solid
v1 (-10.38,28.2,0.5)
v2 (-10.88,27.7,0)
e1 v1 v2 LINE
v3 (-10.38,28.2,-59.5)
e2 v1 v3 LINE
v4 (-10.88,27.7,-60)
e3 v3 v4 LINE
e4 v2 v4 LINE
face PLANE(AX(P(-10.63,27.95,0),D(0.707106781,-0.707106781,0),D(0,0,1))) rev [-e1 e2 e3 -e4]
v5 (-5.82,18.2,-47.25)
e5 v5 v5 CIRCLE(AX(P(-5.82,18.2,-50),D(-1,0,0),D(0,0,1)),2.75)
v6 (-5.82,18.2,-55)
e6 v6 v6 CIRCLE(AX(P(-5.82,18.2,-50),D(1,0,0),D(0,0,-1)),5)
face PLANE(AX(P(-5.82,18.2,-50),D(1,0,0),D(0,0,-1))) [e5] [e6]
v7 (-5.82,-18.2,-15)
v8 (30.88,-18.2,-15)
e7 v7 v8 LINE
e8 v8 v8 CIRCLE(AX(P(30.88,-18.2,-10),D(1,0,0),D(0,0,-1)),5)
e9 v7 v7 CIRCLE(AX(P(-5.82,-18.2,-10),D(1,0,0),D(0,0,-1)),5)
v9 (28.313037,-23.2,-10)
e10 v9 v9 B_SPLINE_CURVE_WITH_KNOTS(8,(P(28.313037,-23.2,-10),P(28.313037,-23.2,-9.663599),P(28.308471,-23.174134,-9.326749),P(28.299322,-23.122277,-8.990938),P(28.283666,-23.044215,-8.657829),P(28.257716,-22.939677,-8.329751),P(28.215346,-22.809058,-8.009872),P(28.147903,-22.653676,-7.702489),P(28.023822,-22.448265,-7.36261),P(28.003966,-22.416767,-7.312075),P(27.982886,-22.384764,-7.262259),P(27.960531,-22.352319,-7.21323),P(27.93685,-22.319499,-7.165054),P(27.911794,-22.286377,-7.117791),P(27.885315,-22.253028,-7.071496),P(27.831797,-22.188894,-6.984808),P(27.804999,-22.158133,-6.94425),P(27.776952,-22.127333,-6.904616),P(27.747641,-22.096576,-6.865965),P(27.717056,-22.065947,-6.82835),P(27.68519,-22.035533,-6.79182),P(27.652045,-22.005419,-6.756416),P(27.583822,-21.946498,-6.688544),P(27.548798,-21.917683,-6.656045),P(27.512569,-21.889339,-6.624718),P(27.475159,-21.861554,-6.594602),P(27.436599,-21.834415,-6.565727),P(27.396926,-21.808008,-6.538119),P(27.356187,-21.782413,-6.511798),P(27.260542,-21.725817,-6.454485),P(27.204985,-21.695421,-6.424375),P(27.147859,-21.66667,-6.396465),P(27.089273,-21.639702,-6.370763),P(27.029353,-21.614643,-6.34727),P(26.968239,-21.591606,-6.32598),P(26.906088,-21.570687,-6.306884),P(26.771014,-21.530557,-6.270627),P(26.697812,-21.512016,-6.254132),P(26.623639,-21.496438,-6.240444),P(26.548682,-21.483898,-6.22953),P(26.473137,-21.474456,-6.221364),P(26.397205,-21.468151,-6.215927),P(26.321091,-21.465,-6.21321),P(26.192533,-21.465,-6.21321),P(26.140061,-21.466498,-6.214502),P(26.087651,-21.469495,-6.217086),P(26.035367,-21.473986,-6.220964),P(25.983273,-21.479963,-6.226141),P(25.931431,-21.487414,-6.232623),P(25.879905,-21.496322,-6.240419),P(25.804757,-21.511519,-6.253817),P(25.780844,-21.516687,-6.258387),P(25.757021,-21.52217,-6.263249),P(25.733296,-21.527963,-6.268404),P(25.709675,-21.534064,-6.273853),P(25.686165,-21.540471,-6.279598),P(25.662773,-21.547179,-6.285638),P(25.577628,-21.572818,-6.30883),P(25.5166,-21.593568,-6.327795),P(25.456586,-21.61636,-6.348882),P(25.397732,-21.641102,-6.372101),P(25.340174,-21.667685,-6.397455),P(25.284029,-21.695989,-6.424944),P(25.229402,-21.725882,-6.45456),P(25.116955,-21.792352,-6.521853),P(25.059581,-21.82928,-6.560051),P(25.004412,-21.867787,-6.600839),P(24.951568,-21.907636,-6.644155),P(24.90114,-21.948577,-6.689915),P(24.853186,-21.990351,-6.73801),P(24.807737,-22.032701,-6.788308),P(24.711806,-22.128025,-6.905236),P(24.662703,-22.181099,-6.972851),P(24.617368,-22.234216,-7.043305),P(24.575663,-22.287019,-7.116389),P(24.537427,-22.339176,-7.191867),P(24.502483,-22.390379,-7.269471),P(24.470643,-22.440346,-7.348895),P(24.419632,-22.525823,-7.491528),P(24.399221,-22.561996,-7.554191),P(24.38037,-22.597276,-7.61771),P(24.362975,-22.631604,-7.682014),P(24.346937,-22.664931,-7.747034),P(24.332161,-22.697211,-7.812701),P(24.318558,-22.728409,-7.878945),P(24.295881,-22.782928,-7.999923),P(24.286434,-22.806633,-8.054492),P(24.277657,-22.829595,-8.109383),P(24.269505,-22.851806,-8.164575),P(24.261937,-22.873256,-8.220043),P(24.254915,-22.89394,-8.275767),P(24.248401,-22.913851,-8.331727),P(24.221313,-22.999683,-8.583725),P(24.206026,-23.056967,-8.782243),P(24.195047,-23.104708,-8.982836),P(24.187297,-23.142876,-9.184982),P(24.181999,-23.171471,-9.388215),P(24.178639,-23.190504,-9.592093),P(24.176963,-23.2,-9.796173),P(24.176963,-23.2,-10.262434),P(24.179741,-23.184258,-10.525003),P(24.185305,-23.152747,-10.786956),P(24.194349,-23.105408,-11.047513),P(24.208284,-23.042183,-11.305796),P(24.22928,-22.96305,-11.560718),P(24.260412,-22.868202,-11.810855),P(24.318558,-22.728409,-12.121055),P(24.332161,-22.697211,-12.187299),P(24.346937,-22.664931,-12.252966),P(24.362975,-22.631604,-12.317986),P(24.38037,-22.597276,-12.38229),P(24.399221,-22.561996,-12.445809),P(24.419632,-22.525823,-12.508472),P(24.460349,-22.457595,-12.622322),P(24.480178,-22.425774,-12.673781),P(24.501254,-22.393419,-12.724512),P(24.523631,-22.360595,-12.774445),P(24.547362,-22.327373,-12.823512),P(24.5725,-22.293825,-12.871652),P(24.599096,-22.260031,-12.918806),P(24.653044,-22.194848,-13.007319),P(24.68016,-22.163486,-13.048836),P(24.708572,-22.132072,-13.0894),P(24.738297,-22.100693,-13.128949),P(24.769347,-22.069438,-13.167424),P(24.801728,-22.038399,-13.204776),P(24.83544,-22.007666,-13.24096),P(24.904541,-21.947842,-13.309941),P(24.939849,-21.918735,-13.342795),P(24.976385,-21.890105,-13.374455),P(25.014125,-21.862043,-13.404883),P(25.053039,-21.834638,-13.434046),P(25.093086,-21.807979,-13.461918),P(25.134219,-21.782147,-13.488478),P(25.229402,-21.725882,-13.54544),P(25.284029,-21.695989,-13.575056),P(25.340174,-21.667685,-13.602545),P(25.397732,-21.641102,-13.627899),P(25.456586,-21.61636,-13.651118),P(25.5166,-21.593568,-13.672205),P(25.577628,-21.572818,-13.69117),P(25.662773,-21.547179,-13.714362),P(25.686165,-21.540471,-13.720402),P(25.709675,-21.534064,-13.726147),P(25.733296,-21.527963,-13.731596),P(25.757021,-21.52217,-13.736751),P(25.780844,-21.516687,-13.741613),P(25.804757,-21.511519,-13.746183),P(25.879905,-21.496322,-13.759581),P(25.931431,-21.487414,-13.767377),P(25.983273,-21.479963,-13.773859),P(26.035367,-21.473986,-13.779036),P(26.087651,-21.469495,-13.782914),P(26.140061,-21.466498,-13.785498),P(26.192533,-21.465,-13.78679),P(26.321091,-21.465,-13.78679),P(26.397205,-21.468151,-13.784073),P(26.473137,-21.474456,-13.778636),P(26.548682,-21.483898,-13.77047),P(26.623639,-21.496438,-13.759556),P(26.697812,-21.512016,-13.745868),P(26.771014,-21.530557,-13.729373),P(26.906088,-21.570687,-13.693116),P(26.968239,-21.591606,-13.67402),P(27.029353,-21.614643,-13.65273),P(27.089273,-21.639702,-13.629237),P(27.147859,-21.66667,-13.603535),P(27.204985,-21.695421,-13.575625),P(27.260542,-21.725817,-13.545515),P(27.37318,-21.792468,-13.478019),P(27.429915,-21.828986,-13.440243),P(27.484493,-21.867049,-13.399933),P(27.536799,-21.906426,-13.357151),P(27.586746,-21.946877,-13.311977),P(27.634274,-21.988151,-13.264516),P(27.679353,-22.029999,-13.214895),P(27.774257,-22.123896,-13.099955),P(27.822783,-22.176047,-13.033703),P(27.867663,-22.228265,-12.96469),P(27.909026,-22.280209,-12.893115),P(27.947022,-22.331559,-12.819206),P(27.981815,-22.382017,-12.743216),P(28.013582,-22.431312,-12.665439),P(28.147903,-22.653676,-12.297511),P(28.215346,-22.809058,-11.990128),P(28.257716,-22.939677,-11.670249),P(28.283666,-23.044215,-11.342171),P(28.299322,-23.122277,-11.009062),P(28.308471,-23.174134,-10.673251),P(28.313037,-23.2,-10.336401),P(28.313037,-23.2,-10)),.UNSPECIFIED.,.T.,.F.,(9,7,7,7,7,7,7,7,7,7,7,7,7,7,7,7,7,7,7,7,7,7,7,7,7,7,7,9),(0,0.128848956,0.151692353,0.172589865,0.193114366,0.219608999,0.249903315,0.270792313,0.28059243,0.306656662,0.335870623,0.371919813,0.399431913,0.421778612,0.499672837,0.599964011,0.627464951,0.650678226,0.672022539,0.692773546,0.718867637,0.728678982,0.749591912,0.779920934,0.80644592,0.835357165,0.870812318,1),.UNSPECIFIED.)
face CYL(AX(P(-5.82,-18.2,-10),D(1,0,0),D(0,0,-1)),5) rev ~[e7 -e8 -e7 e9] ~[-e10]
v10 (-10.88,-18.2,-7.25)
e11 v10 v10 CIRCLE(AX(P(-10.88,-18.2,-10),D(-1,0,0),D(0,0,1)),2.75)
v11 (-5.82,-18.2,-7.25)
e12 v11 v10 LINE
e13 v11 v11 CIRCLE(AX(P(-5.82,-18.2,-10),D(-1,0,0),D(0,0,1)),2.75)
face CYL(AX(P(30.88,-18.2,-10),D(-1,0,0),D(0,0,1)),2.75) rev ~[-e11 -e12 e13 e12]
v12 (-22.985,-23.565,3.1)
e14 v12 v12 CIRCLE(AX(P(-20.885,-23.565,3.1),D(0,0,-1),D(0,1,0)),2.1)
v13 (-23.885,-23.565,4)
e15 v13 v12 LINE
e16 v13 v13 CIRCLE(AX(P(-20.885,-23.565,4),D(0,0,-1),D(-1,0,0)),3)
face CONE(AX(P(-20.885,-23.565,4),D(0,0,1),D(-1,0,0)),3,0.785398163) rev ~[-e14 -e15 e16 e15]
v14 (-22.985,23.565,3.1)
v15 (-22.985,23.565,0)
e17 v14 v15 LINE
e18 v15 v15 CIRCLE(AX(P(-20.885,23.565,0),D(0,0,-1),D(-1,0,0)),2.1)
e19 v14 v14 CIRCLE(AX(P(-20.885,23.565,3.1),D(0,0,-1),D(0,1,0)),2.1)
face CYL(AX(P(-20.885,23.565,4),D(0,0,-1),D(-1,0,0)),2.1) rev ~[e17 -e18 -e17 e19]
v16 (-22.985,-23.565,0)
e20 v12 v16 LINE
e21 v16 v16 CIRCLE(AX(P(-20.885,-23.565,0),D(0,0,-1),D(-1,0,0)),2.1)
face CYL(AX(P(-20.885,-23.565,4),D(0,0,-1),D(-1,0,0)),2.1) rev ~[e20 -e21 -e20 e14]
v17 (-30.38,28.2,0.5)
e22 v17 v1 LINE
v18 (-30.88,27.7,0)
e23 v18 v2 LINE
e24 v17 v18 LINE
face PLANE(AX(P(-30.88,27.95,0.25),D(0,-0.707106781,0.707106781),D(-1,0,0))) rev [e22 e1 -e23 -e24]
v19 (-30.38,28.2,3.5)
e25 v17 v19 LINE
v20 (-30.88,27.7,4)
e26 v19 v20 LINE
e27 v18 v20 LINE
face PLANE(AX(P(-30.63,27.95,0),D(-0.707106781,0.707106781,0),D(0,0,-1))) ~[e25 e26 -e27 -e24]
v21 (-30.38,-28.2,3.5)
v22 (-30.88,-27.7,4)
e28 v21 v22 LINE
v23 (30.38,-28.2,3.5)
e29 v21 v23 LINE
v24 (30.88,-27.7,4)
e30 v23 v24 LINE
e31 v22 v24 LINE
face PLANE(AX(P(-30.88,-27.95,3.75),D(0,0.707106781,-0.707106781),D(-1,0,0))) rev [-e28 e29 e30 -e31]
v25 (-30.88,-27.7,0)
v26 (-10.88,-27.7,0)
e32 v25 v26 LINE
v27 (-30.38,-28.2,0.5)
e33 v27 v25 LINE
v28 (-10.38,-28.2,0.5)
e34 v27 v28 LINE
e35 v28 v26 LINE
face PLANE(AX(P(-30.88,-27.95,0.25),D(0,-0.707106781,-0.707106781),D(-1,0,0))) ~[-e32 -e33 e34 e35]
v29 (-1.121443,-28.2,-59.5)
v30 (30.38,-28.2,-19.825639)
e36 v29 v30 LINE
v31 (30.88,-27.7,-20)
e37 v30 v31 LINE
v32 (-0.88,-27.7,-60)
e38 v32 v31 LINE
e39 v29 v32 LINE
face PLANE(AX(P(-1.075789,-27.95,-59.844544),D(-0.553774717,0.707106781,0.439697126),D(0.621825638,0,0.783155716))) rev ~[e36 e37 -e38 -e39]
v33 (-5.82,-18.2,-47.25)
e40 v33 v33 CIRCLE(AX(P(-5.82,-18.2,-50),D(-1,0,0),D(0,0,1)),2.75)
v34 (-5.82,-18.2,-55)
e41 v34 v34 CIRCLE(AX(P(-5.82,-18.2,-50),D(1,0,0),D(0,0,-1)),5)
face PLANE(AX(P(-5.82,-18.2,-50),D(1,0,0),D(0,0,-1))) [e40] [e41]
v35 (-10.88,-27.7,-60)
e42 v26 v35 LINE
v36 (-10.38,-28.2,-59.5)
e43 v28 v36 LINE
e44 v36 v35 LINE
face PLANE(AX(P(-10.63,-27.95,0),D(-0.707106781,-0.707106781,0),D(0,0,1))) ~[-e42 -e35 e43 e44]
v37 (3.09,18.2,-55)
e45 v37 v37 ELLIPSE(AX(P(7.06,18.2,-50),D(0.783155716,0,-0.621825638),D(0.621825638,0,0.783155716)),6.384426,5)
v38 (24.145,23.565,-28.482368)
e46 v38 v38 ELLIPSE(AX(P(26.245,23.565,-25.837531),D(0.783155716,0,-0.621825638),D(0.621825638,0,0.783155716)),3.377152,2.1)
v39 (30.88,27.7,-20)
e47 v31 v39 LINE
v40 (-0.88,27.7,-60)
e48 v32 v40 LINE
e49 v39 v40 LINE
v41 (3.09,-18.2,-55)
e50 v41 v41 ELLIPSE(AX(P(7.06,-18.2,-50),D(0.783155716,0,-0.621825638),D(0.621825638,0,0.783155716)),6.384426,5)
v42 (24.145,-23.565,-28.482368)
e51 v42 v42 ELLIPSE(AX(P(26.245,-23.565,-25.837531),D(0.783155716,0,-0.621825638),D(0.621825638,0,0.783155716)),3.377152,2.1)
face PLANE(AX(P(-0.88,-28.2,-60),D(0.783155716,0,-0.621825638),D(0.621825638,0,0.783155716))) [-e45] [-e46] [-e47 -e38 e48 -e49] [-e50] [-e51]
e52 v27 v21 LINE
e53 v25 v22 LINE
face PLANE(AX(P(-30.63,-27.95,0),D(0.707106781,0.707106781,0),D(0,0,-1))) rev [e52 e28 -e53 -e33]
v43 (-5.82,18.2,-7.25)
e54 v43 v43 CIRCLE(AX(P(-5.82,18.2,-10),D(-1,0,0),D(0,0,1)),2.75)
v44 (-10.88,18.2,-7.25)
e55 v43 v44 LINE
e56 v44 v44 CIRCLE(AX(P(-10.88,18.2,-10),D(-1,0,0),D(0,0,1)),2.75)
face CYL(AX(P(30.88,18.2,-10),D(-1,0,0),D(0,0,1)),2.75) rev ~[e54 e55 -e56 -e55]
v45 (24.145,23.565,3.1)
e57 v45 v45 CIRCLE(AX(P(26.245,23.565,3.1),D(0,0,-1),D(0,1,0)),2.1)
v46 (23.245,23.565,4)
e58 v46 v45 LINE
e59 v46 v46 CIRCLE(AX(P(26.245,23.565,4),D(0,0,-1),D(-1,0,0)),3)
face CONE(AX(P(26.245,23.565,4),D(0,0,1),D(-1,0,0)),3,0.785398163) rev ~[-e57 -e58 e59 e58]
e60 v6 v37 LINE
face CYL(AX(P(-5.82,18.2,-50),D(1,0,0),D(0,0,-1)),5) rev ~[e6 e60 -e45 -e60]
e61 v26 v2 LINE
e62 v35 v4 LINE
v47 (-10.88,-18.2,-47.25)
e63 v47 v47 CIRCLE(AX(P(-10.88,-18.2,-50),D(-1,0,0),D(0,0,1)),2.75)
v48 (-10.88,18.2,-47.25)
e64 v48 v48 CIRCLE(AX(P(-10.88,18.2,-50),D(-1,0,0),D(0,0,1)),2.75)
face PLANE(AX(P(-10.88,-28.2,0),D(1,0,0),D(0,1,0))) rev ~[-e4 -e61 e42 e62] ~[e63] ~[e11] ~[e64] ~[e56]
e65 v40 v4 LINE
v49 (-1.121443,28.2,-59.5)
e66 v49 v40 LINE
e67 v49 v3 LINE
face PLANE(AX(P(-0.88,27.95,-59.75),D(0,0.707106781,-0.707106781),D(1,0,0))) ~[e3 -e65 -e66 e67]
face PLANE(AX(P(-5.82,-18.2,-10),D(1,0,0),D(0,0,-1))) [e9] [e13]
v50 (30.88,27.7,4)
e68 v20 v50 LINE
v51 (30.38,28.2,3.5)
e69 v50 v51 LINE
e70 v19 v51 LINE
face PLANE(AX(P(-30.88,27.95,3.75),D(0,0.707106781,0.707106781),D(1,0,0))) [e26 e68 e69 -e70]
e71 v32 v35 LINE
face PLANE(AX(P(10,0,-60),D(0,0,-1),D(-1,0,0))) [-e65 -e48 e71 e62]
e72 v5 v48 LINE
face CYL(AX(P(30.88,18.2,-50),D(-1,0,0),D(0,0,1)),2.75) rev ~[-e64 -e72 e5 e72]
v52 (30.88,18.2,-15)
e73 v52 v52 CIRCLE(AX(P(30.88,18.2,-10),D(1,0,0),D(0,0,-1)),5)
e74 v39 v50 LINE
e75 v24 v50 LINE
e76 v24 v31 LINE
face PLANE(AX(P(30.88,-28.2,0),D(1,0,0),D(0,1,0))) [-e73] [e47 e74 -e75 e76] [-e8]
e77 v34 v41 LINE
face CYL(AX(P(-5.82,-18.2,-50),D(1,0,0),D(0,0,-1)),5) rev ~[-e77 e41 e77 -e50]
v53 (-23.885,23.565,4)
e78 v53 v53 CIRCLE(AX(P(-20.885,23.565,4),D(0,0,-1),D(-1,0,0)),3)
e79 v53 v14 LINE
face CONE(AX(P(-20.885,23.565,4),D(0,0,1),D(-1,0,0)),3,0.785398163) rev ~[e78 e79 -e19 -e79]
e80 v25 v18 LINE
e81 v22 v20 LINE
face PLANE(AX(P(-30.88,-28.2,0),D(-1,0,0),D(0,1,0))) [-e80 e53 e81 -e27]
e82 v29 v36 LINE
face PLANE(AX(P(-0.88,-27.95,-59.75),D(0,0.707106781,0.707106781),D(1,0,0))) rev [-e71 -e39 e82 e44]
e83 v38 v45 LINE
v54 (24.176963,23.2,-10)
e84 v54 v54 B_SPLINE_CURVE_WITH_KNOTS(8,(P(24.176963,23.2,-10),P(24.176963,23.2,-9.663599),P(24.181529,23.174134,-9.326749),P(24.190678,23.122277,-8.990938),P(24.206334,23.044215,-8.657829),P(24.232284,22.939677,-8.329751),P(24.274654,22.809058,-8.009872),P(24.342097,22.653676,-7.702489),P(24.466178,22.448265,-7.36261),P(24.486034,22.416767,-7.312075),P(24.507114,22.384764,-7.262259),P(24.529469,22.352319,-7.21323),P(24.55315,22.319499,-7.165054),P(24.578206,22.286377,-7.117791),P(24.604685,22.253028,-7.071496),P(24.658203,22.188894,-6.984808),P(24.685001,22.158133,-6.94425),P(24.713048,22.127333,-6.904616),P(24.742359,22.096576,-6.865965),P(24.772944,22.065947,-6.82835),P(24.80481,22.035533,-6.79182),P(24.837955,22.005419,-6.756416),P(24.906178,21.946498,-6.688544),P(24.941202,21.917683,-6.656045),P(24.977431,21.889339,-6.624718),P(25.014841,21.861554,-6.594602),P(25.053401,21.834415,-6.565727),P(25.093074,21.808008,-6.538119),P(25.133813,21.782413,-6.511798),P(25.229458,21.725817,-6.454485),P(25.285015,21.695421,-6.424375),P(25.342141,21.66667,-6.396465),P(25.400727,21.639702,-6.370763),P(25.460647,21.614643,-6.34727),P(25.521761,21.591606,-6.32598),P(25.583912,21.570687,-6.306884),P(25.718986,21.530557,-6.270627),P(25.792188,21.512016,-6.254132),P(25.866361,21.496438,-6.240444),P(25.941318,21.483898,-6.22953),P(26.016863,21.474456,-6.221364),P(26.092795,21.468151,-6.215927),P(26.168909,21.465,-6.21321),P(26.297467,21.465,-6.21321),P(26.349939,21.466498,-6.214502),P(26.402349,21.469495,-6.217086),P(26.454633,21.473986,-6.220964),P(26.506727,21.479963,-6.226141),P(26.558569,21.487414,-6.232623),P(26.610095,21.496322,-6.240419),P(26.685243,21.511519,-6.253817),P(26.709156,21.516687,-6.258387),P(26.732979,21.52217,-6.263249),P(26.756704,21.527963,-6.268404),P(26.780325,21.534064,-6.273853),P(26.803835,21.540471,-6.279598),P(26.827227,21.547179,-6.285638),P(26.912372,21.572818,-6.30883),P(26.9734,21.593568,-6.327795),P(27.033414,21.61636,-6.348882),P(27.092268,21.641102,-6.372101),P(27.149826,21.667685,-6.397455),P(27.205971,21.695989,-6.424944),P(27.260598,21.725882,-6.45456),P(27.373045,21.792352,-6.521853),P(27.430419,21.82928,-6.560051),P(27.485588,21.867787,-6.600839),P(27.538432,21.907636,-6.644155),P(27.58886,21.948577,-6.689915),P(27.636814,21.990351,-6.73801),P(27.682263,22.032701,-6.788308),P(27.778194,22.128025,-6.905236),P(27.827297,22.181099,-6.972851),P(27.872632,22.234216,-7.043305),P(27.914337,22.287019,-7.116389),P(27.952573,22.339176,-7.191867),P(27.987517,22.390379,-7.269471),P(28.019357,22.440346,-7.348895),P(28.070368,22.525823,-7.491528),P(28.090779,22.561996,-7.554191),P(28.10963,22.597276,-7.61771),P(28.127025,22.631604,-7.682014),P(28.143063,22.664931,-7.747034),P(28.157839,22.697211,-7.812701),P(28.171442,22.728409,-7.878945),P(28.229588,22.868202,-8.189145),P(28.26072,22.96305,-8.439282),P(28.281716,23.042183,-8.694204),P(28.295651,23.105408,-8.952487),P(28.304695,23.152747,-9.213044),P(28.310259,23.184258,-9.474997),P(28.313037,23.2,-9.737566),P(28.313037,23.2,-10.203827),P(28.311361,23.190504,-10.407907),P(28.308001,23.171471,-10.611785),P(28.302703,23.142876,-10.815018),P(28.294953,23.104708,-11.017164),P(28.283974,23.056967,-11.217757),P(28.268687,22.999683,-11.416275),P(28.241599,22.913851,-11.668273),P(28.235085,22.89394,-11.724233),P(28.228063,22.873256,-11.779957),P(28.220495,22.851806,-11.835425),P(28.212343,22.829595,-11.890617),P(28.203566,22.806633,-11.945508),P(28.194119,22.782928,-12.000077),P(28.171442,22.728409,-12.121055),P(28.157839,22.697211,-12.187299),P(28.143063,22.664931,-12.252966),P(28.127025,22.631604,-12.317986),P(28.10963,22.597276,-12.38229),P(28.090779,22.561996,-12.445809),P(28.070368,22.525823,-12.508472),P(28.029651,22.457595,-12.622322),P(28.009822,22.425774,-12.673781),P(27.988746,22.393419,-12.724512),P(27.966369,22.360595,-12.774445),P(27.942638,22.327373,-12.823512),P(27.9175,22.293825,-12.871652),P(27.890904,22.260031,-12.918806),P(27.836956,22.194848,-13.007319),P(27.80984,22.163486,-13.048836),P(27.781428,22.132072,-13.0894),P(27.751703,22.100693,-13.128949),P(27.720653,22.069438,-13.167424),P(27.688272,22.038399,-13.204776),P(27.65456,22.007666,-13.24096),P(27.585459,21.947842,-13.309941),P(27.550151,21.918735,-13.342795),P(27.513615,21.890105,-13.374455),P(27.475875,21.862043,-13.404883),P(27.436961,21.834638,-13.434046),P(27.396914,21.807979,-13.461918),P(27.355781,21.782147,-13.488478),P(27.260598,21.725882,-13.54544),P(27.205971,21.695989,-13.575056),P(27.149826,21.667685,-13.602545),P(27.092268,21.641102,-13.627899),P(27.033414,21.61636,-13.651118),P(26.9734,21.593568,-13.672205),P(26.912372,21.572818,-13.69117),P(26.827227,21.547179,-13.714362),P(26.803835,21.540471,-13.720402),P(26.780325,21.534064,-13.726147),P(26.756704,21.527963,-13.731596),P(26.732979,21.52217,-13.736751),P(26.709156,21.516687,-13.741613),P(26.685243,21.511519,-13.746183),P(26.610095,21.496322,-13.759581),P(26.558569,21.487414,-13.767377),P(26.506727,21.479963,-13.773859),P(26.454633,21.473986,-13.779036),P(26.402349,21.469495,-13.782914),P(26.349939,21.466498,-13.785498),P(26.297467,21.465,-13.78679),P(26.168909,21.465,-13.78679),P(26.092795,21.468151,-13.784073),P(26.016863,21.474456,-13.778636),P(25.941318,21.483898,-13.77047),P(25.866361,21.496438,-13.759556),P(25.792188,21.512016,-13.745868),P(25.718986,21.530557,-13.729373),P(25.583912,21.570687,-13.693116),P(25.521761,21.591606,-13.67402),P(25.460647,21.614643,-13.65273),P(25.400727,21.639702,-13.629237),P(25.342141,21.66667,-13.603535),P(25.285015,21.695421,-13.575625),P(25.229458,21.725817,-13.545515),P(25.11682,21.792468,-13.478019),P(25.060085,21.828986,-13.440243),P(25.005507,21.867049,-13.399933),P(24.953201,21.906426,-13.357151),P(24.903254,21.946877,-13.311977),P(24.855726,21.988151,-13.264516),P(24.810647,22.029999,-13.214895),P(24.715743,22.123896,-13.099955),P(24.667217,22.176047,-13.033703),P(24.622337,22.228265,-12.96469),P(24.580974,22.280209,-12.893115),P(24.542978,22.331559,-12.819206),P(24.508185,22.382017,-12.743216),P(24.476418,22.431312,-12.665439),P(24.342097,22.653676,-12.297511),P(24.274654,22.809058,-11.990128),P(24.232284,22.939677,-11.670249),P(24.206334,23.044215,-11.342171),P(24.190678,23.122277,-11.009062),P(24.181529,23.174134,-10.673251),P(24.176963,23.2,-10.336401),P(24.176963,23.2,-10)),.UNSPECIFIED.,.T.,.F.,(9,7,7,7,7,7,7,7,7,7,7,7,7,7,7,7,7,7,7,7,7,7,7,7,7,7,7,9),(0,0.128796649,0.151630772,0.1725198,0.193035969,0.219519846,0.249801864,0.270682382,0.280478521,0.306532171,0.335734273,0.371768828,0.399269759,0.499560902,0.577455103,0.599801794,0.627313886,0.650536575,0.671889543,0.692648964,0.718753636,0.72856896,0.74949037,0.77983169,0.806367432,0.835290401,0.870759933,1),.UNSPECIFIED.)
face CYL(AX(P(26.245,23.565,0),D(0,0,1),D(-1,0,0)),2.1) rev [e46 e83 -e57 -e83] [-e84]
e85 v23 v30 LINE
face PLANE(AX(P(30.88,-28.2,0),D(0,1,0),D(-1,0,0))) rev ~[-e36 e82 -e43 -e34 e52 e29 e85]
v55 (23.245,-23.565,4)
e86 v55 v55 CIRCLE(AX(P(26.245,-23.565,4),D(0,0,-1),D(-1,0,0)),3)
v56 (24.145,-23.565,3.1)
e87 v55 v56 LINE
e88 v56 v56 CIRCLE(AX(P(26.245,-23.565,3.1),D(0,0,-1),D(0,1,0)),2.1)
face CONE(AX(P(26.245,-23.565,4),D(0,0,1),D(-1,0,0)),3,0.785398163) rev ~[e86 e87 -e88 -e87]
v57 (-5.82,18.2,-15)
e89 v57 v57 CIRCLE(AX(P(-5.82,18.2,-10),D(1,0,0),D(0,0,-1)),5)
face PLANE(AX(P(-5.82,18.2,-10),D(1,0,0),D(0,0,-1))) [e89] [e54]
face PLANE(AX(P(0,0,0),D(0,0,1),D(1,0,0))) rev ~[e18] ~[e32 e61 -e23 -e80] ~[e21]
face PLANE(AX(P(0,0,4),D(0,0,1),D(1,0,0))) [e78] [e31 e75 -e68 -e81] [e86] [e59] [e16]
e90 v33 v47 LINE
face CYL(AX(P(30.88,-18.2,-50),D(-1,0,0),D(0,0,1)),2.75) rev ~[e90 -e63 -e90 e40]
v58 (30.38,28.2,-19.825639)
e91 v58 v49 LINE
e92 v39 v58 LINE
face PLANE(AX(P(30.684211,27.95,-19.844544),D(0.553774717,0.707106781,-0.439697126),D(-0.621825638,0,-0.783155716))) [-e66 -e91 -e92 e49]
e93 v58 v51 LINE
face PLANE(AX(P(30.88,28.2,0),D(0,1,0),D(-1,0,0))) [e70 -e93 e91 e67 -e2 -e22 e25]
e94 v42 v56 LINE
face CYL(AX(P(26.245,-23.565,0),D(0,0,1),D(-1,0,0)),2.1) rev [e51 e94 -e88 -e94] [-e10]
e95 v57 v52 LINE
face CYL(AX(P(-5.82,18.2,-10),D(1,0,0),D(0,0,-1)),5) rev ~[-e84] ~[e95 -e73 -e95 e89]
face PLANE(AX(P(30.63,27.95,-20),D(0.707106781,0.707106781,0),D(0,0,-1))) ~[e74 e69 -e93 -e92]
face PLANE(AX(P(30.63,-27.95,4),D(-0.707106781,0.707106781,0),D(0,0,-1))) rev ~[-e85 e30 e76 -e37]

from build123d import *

# Parameters (mm, degrees)
SKETCH1_W                       = 61.76
SKETCH1_H                       = 56.4
BOSS_EXTRUDE1_DEPTH             = 4
M5X0_8_TAPPED_HOLE1_D           = 4.2
M5X0_8_TAPPED_HOLE1_CSINK_D     = 6
M5X0_8_TAPPED_HOLE1_CSINK_ANGLE = 90
SKETCH37_W                      = 41.76
SKETCH37_H                      = 56.4
SKETCH37_R                      = 2.1
BOSS_EXTRUDE7_DEPTH             = 60
CUT_EXTRUDE2_DEPTH              = 57.4
CBORE_FOR_M5_SHCS3_D            = 5.5
CBORE_FOR_M5_SHCS3_CBORE_D      = 10
CBORE_FOR_M5_SHCS3_CBORE_DEPTH  = 36.7
CHAMFER7_SIZE                   = 0.5


with BuildPart() as part:
    # Sketch1 → Boss-Extrude1 (new body)
    with BuildSketch(Plane.XY):
        Rectangle(SKETCH1_W, SKETCH1_H)
    extrude(amount=BOSS_EXTRUDE1_DEPTH)

    # M5x0.8 Tapped Hole1 (through all)
    with Locations(Plane.XY.offset(4)):
        with Locations((26.245, 23.565), (26.245, -23.565), (-20.885, -23.565), (-20.885, 23.565)):
            CounterSinkHole(M5X0_8_TAPPED_HOLE1_D / 2, M5X0_8_TAPPED_HOLE1_CSINK_D / 2, counter_sink_angle=M5X0_8_TAPPED_HOLE1_CSINK_ANGLE)

    # Sketch37 → Boss-Extrude7 (add)
    with BuildSketch(Plane(origin=(0, 0, 0), x_dir=(-1, 0, 0), z_dir=(0, 0, -1))):
        with Locations((-10, 0)):
            Rectangle(SKETCH37_W, SKETCH37_H)
        with Locations((-26.245, 23.565)):
            Circle(SKETCH37_R, mode=Mode.SUBTRACT)
        with Locations((-26.245, -23.565)):
            Circle(SKETCH37_R, mode=Mode.SUBTRACT)
    extrude(amount=BOSS_EXTRUDE7_DEPTH)

    # Sketch40 → Cut-Extrude2 (cut, through all)
    with BuildSketch(Plane.XZ.offset(28.2)):
        Polygon((-0.88, -60), (30.88, -20), (30.88, -60), align=None)
    extrude(amount=-CUT_EXTRUDE2_DEPTH, mode=Mode.SUBTRACT)

    # CBORE for M5 SHCS3 (through all)
    with Locations(Plane(origin=(30.88, 0, 0), x_dir=(0, 0, -1), z_dir=(1, 0, 0))):
        with Locations((10, -18.2), (10, 18.2), (50, 18.2), (50, -18.2)):
            CounterBoreHole(CBORE_FOR_M5_SHCS3_D / 2, CBORE_FOR_M5_SHCS3_CBORE_D / 2, CBORE_FOR_M5_SHCS3_CBORE_DEPTH)

    # Chamfer7
    chamfer7_edges = [part.edges().sort_by_distance(p)[0] for p in [
        (0, -28.2, 4),
        (-20.88, 28.2, 0),
        (-5.88, 28.2, -60),
        (-10.88, -28.2, -30),
        (-10.88, 28.2, -30),
        (-20.88, -28.2, 0),
        (-5.88, -28.2, -60),
        (15, 28.2, -40),
        (15, -28.2, -40),
        (30.88, -28.2, -8),
        (-30.88, -28.2, 2),
        (-30.88, 28.2, 2),
        (30.88, 28.2, -8),
        (0, 28.2, 4),
    ]]
    chamfer(chamfer7_edges, length=CHAMFER7_SIZE)


solid = part.part
